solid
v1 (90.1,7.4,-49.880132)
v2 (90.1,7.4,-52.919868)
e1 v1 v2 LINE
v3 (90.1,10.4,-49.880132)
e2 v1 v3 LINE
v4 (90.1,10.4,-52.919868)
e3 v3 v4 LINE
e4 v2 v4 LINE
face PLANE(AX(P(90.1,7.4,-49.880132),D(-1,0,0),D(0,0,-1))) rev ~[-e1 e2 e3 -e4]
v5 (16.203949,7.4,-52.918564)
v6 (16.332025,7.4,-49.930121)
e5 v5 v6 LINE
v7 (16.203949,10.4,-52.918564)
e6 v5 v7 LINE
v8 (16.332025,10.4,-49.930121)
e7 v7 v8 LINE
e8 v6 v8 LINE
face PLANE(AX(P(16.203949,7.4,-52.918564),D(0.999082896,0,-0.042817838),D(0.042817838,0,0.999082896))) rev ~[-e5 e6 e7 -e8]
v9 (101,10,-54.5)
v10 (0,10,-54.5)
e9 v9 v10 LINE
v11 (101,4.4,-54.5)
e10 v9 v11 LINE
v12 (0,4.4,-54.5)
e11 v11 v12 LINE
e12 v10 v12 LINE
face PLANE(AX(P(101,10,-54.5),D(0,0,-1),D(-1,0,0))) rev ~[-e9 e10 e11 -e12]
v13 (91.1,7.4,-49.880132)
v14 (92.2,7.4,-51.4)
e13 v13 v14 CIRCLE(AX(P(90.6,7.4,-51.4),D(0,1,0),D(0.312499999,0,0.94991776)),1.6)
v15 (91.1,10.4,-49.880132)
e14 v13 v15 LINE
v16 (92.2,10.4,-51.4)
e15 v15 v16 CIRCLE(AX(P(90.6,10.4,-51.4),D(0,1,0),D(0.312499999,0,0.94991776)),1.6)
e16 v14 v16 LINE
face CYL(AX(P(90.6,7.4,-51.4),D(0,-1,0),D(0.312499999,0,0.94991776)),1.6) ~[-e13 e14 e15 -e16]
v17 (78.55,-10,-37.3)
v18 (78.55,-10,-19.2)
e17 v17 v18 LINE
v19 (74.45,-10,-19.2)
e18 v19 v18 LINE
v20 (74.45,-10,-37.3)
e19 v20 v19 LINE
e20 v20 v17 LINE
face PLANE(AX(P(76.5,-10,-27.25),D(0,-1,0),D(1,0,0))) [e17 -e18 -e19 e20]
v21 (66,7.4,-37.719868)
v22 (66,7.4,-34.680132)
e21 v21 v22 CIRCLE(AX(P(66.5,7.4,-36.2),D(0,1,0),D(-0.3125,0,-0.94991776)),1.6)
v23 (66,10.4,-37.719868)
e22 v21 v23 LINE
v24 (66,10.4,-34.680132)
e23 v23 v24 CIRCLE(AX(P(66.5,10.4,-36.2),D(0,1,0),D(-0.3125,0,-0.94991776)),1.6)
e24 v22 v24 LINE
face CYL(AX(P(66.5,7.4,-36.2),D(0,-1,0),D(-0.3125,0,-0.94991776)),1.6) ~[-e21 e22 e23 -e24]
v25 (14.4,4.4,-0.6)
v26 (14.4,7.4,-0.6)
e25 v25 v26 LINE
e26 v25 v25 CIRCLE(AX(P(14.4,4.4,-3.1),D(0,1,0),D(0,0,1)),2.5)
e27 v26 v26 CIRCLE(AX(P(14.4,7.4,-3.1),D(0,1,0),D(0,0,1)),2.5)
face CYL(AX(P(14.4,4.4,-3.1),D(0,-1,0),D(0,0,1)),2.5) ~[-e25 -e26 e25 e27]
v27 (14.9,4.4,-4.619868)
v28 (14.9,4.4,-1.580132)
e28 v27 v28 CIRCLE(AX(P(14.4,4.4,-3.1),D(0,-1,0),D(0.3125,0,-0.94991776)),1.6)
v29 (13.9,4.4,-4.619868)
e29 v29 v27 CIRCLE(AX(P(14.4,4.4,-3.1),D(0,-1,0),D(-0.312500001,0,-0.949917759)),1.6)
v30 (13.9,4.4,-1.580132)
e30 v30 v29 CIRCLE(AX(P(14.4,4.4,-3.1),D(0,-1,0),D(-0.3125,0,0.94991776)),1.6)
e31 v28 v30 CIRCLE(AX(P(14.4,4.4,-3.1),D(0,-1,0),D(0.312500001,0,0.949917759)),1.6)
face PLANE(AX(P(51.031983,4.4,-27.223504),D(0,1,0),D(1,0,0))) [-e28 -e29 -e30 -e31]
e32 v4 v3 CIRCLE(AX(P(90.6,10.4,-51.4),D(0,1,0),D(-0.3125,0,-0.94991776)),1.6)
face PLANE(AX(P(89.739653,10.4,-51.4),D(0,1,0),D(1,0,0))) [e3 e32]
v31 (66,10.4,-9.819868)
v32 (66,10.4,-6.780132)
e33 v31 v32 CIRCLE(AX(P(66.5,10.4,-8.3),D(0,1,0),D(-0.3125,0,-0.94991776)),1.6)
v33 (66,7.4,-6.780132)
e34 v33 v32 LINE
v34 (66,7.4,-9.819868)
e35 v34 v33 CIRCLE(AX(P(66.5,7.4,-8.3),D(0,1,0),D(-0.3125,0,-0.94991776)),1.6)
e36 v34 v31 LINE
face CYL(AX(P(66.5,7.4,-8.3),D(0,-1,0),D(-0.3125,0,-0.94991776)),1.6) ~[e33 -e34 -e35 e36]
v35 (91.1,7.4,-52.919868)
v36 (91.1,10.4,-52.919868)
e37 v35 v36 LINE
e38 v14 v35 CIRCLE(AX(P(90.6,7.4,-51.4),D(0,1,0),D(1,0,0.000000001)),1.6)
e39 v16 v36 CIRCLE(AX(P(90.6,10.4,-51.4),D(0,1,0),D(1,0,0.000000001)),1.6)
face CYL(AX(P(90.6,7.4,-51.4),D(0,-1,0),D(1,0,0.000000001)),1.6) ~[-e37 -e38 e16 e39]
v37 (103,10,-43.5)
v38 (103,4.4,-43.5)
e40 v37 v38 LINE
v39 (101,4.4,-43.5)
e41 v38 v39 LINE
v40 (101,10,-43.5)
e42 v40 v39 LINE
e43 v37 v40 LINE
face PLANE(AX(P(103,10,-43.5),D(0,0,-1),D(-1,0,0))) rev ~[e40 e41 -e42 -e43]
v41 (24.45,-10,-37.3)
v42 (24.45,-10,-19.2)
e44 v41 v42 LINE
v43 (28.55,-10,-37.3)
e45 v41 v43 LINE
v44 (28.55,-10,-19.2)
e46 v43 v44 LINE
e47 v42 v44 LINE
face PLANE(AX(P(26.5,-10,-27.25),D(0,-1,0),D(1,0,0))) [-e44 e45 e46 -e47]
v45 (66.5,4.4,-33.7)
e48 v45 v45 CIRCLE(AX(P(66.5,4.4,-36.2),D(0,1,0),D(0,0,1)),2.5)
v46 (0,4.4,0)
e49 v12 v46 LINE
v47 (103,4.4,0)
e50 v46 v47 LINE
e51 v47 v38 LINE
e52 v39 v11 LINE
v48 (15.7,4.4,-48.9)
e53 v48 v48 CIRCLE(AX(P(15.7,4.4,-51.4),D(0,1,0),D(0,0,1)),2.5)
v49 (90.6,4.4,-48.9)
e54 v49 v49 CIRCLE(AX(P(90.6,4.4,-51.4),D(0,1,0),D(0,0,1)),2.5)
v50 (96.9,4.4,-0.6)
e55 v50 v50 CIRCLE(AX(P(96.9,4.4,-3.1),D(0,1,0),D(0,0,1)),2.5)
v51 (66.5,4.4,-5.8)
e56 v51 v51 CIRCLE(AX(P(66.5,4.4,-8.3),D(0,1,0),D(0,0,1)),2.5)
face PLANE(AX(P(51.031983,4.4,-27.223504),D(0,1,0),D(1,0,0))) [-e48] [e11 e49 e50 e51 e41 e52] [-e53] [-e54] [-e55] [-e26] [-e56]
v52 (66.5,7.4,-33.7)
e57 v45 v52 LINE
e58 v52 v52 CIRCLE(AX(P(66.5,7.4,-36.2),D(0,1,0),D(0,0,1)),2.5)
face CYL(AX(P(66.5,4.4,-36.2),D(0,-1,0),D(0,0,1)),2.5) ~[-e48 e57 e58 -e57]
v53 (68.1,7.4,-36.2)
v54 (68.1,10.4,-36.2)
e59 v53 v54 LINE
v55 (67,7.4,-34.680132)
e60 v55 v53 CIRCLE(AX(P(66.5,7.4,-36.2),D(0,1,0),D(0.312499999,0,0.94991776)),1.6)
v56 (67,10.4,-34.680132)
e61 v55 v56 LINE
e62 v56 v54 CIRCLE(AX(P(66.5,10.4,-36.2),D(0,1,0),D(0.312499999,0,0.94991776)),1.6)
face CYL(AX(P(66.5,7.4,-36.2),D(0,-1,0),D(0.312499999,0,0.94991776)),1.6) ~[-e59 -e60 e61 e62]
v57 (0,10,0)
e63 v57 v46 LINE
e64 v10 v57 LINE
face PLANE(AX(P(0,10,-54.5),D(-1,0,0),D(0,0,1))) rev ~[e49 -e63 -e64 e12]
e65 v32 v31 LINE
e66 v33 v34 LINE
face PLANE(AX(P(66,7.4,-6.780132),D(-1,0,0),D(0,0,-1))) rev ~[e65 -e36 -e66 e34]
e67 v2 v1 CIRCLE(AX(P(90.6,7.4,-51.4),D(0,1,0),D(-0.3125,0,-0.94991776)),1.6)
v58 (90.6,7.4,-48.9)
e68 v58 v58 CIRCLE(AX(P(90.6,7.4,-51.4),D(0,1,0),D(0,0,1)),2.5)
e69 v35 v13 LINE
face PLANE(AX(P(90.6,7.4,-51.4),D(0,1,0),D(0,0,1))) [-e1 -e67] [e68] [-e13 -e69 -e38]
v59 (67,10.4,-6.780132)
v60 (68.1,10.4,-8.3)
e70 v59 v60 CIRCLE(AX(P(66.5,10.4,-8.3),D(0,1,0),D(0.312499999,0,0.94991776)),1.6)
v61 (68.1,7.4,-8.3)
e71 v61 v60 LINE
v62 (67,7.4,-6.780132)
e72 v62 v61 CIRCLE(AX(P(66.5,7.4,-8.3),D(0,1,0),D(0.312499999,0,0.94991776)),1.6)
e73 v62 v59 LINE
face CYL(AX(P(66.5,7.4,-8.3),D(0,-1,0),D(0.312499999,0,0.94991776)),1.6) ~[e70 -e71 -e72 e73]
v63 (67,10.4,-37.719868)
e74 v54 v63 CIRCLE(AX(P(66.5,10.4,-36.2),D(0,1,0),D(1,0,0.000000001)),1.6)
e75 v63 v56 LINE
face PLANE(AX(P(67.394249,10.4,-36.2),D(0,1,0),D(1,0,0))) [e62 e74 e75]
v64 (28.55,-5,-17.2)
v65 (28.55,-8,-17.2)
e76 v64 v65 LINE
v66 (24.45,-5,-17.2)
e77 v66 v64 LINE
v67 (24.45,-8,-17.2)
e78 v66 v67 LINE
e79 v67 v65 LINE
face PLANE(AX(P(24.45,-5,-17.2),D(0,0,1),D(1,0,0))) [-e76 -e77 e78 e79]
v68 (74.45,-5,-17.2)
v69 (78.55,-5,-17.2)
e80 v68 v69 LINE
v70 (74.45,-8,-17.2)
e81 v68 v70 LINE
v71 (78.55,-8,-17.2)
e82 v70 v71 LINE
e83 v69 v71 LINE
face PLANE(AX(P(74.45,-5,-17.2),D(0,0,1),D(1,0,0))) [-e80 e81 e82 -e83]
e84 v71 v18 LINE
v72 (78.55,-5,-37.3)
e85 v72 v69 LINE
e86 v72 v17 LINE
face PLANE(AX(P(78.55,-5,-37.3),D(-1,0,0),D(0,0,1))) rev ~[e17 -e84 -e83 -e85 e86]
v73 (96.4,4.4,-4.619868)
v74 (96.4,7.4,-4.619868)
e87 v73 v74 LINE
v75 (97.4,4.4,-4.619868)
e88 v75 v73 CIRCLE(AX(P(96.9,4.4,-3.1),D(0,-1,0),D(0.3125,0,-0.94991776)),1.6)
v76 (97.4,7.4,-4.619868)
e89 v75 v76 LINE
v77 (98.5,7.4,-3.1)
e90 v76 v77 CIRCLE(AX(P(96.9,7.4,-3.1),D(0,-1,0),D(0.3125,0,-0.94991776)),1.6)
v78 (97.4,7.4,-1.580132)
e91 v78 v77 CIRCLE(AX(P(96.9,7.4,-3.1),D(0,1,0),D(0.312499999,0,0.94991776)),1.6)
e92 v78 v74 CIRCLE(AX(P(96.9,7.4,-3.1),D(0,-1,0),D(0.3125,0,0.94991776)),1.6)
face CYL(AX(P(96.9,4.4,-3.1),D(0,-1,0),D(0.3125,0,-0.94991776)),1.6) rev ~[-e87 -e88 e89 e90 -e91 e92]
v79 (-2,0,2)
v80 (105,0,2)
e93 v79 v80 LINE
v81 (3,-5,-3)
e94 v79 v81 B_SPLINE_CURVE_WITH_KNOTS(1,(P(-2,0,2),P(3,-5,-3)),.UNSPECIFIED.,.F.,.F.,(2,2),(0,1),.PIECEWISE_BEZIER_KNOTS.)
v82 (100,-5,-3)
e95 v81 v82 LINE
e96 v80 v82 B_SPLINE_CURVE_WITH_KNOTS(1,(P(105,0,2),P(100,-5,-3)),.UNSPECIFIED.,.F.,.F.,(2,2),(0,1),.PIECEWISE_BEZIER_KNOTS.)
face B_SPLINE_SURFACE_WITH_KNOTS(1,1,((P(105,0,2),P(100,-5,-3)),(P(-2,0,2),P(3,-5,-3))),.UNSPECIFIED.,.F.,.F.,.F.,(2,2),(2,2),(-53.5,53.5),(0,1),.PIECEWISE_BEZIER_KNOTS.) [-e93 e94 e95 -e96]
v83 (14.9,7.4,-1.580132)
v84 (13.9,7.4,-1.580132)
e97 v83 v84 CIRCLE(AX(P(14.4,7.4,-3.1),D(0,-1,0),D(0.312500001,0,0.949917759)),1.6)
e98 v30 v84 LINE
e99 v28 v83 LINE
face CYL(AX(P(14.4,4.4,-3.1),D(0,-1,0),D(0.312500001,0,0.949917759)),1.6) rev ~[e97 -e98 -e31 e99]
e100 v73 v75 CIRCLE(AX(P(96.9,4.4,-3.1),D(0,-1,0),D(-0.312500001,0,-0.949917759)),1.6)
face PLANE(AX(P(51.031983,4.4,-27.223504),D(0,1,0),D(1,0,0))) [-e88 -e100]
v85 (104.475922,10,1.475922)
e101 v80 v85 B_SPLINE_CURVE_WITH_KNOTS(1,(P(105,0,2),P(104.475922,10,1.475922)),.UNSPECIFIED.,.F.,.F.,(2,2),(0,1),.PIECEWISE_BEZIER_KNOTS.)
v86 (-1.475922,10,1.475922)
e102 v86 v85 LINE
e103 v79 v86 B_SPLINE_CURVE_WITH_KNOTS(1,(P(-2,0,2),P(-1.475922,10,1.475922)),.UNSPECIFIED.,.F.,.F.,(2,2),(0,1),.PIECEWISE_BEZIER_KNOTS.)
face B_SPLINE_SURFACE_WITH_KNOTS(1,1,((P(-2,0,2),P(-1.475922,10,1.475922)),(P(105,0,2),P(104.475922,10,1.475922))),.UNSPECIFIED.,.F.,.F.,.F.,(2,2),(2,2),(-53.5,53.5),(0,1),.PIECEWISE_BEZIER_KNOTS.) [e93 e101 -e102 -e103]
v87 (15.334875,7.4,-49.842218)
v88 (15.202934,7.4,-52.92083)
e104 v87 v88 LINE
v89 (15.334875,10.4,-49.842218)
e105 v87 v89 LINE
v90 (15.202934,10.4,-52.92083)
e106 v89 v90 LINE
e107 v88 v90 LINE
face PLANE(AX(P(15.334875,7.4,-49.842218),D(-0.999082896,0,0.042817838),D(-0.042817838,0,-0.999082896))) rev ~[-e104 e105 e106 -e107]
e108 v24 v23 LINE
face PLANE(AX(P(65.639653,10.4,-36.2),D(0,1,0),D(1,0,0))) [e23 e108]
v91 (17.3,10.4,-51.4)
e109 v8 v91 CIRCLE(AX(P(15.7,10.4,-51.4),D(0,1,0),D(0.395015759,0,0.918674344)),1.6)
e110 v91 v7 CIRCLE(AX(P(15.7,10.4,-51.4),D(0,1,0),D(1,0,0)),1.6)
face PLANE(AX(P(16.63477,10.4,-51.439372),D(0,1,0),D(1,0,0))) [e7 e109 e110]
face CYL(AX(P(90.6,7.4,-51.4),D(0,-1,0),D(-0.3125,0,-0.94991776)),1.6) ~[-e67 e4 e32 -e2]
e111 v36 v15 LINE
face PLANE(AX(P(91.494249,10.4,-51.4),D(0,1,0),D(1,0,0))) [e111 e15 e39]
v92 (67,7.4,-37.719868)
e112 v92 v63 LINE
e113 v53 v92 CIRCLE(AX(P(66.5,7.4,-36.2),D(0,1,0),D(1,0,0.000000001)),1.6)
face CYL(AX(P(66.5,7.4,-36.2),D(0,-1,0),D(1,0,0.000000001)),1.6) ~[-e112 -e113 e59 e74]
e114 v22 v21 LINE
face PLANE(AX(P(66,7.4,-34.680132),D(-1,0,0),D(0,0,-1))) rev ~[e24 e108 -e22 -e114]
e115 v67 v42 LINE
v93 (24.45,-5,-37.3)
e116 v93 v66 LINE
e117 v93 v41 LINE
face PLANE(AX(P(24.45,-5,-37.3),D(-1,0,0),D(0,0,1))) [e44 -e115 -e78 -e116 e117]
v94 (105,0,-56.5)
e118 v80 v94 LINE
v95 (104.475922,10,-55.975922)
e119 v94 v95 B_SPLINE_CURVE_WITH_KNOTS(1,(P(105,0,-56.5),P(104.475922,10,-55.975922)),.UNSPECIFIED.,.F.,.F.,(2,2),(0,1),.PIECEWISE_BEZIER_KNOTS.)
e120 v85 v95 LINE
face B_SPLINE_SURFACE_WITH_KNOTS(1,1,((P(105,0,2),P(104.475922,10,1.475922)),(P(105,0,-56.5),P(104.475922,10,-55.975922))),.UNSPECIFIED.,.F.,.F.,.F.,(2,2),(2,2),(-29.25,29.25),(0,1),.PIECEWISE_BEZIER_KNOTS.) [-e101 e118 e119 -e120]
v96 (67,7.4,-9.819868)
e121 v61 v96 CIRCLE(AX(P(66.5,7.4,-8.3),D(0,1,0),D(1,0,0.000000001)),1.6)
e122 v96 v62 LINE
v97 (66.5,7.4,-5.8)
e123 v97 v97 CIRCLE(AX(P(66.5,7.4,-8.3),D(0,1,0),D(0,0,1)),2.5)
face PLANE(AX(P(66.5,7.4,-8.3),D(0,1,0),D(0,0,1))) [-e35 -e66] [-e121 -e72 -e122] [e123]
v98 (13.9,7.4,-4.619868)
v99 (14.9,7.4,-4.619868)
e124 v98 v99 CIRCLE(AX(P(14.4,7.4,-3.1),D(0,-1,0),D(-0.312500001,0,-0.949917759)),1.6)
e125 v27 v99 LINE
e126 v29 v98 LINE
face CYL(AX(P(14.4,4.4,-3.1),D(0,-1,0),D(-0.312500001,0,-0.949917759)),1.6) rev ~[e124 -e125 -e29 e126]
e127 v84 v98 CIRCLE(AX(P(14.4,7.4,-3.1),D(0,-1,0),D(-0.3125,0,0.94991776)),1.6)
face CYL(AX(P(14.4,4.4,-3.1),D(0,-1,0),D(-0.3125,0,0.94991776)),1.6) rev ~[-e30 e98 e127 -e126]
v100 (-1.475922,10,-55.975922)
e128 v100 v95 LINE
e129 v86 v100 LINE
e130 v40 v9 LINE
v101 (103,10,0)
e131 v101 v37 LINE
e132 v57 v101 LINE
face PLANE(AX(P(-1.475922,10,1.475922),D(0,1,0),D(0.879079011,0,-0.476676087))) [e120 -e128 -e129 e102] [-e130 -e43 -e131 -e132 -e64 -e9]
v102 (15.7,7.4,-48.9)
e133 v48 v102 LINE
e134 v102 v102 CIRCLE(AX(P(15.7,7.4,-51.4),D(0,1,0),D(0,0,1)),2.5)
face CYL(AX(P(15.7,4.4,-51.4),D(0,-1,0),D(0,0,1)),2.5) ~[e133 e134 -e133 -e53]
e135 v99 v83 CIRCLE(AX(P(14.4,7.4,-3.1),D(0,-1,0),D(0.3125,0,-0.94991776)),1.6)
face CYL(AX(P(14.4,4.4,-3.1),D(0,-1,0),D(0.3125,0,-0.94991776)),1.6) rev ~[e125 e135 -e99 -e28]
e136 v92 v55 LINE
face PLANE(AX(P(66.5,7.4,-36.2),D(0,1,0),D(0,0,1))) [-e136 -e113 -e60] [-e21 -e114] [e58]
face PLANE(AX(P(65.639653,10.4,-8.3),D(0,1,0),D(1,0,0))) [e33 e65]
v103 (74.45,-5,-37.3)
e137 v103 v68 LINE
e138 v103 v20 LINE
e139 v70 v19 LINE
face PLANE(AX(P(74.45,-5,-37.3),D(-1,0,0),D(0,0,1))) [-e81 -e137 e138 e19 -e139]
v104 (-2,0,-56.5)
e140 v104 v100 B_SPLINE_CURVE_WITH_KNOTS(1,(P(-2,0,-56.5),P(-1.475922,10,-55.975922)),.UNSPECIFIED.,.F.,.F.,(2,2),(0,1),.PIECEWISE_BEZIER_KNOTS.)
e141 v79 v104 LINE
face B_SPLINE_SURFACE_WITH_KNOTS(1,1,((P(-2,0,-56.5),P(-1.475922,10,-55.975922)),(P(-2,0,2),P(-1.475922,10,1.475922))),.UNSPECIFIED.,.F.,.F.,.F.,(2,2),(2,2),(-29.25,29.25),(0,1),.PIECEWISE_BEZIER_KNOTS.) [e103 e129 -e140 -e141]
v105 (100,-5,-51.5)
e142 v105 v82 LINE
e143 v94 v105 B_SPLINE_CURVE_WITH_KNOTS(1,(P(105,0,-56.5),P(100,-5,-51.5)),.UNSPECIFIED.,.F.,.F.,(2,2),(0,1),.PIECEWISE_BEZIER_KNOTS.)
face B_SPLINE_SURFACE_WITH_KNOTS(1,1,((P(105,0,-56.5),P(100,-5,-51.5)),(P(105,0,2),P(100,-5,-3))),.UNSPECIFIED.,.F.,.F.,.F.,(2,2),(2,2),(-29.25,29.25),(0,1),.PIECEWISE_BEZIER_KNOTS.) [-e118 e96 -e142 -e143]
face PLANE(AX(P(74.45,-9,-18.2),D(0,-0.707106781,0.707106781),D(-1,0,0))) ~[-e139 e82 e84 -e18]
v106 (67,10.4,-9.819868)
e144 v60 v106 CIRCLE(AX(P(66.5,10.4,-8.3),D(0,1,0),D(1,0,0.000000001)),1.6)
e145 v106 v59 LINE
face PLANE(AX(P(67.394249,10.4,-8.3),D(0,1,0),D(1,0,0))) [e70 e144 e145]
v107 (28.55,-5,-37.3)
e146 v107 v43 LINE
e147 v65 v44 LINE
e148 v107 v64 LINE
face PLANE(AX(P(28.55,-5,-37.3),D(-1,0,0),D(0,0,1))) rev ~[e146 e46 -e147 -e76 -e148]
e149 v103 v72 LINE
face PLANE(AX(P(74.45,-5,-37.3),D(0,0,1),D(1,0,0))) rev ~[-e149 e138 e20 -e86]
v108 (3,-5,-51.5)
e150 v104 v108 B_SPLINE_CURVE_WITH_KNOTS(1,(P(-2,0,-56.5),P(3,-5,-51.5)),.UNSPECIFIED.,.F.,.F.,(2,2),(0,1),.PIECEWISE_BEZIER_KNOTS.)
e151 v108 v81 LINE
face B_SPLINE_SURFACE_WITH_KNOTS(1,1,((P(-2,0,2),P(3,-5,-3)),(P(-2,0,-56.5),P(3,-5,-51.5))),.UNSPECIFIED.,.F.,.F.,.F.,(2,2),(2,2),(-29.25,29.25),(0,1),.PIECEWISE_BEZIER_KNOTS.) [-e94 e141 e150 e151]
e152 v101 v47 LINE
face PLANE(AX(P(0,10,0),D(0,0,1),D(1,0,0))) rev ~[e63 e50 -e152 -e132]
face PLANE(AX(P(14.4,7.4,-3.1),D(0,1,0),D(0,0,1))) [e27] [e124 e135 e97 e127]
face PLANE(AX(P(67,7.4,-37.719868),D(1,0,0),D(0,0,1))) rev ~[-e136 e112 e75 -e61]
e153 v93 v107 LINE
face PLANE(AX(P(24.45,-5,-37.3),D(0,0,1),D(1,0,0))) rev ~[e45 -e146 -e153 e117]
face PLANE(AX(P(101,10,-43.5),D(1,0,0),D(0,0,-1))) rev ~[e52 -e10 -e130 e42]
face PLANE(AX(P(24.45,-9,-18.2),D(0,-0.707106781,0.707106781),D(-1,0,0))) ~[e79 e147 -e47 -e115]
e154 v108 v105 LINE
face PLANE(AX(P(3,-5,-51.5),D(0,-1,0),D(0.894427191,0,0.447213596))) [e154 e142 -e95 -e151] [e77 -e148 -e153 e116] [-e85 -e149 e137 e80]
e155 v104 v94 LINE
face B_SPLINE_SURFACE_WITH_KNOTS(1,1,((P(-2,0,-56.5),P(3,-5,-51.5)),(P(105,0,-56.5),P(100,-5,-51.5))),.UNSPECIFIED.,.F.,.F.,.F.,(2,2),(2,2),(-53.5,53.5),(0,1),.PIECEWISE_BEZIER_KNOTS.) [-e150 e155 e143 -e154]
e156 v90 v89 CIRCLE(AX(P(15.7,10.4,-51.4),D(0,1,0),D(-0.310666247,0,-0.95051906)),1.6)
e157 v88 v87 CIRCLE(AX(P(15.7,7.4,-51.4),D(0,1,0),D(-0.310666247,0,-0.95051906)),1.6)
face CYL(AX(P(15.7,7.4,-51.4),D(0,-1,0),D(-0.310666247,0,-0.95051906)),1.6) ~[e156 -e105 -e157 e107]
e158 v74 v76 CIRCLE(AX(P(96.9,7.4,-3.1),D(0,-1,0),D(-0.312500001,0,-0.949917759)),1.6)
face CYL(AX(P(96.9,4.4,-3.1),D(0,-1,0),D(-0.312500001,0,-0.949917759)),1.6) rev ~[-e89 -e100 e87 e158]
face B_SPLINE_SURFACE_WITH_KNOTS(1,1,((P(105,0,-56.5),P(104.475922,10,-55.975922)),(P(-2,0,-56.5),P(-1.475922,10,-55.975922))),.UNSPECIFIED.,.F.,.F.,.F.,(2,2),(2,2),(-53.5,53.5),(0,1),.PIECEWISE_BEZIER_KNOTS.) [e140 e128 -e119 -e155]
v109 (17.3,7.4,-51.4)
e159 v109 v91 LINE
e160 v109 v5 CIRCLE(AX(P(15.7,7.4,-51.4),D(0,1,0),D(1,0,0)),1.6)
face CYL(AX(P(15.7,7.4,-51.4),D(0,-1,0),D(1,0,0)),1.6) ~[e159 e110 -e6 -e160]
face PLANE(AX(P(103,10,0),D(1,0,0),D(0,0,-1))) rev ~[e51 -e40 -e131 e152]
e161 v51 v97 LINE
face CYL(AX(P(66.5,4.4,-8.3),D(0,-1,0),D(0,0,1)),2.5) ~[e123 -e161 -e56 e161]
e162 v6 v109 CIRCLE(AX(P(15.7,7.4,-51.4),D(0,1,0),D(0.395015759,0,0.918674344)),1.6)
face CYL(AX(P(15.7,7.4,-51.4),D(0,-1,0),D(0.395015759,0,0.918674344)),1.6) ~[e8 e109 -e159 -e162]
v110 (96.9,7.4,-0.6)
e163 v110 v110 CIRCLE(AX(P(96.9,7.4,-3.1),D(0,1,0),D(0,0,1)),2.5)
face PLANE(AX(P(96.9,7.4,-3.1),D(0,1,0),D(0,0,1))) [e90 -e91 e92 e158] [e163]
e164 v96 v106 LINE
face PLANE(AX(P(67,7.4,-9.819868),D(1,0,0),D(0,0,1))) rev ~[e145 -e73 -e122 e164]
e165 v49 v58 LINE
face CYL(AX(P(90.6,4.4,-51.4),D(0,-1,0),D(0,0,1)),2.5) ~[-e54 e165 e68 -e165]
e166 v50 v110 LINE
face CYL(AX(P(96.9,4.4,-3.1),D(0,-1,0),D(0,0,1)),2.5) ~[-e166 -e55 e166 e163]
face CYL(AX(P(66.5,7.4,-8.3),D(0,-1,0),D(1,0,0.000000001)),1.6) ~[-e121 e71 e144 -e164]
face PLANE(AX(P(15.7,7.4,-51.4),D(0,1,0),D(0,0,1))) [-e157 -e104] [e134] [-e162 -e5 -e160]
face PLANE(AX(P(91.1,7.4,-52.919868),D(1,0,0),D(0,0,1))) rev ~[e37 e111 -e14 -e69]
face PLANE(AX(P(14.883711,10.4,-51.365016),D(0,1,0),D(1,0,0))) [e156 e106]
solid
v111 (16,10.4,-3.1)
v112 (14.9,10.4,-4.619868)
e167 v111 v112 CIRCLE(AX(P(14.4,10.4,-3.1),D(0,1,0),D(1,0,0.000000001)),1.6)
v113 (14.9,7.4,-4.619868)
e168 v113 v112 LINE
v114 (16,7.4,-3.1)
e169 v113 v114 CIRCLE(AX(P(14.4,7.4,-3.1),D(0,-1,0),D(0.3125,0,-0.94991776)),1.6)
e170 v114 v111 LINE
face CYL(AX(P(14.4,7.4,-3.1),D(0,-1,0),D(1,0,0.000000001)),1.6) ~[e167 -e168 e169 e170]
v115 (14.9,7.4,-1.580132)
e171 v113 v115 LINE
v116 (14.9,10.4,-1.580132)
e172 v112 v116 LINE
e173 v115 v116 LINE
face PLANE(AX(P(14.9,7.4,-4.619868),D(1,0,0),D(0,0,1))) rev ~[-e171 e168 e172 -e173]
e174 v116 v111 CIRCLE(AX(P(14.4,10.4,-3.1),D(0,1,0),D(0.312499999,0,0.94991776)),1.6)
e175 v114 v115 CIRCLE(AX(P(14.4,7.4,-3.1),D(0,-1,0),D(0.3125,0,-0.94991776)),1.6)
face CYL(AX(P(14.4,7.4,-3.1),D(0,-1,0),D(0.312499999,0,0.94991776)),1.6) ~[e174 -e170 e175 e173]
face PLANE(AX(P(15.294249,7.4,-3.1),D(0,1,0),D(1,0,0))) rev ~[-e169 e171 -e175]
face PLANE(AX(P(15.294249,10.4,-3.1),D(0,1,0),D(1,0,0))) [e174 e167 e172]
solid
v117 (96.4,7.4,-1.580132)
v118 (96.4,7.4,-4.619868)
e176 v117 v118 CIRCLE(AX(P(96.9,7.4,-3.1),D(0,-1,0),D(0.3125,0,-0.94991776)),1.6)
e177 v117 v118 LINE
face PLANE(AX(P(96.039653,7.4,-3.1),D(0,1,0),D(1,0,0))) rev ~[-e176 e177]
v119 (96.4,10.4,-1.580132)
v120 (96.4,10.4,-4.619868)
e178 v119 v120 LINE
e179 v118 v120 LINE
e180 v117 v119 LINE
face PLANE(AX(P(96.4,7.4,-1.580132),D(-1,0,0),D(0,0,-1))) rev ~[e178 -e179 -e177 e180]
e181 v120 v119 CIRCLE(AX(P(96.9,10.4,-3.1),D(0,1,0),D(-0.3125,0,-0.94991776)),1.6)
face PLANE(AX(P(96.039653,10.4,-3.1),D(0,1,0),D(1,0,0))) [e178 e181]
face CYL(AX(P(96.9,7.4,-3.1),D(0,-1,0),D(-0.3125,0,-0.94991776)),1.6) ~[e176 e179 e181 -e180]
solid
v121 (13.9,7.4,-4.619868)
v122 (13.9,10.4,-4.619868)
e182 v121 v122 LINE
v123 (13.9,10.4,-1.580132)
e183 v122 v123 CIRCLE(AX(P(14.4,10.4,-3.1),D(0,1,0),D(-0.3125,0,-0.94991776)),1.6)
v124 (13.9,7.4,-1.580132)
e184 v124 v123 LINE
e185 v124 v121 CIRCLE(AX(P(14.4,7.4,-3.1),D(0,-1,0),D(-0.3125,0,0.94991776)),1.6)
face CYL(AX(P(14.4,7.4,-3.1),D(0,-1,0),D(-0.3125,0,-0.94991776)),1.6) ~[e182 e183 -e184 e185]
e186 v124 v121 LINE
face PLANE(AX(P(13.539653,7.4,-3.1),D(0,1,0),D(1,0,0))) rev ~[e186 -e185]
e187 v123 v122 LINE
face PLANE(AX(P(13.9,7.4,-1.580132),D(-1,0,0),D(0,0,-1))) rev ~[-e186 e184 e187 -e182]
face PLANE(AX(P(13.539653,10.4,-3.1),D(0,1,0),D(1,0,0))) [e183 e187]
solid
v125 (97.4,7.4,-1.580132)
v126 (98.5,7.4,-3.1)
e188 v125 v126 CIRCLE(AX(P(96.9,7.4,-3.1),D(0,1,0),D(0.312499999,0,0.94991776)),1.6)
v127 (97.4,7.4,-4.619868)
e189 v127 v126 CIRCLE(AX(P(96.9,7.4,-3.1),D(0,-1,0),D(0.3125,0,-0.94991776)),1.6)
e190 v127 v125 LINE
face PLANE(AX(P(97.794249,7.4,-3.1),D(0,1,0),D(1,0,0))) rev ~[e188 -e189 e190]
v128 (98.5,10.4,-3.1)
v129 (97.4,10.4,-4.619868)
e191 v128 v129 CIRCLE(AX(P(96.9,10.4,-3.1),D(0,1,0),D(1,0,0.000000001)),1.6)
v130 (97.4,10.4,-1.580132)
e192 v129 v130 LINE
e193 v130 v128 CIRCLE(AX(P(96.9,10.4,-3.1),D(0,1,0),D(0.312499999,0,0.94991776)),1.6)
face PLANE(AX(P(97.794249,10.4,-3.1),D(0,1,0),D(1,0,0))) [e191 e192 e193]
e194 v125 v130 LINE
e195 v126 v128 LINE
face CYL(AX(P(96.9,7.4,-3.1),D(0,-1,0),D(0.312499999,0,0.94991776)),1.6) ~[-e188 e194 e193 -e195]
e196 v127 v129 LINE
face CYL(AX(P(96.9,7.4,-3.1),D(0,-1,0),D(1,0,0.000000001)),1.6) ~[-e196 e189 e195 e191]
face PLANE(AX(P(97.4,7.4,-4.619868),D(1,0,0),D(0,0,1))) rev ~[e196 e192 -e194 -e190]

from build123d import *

# Parameters (mm, degrees)
SKETCH2_W           = 107
SKETCH2_H           = 58.5
BOSS_EXTRUDE1_DEPTH = 10
BOSS_EXTRUDE1_TAPER = 3
CUT_EXTRUDE1_START  = 10
SKETCH2_5_W         = 2
SKETCH2_5_H         = 1
CUT_EXTRUDE1_DEPTH  = 5.6
SKETCH8_W           = 107
SKETCH8_H           = 58.5
BOSS_EXTRUDE2_DEPTH = 5
BOSS_EXTRUDE2_TAPER = 45
SKETCH9_W           = 4.1
SKETCH9_H           = 20.1
BOSS_EXTRUDE3_DEPTH = 5
CHAMFER1_SIZE       = 2
SKETCH10_R          = 2.5
BOSS_EXTRUDE4_DEPTH = 3
BOSS_EXTRUDE5_START = 3
BOSS_EXTRUDE5_DEPTH = 3


with BuildPart() as part:
    # Sketch2 → Boss-Extrude1 (new body)
    with BuildSketch(Plane(origin=(0, 0, 0), x_dir=(1, 0, 0), z_dir=(0, 1, 0))):
        with Locations((51.5, 27.25)):
            Rectangle(SKETCH2_W, SKETCH2_H)
    extrude(amount=BOSS_EXTRUDE1_DEPTH, taper=BOSS_EXTRUDE1_TAPER)

    # Sketch2<5> → Cut-Extrude1 (cut)
    with BuildSketch(Plane(origin=(0, 0, 0), x_dir=(1, 0, 0), z_dir=(0, 1, 0)).offset(CUT_EXTRUDE1_START)):
        Polygon((0, 0), (101, 0), (101, 1), (103, 3), (103, 41.5), (101, 43.5), (101, 54.5), (0, 54.5), align=None)
        Polygon((103, 43.5), (101, 43.5), (103, 41.5), align=None)
        Polygon((103, 3), (101, 1), (103, 1), align=None)
        with Locations((102, 0.5)):
            Rectangle(SKETCH2_5_W, SKETCH2_5_H)
    extrude(amount=-CUT_EXTRUDE1_DEPTH, mode=Mode.SUBTRACT)

    # Sketch8 → Boss-Extrude2 (add)
    with BuildSketch(Plane.XZ):
        with Locations((51.5, -27.25)):
            Rectangle(SKETCH8_W, SKETCH8_H)
    extrude(amount=BOSS_EXTRUDE2_DEPTH, taper=BOSS_EXTRUDE2_TAPER)

    # Sketch9 → Boss-Extrude3 (add)
    with BuildSketch(Plane.XZ.offset(5)):
        with Locations((26.5, -27.25)):
            Rectangle(SKETCH9_W, SKETCH9_H)
        with Locations((76.5, -27.25)):
            Rectangle(SKETCH9_W, SKETCH9_H)
    extrude(amount=BOSS_EXTRUDE3_DEPTH)

    # Chamfer1
    chamfer1_edges = [part.edges().sort_by_distance(p)[0] for p in [
        (26.5, -10, -17.2),
        (76.5, -10, -17.2),
    ]]
    chamfer(chamfer1_edges, length=CHAMFER1_SIZE)

    # Sketch10 → Boss-Extrude4 (add)
    # profile 1 of 6: a face of its own
    with BuildSketch(Plane(origin=(0, 4.4, 0), x_dir=(1, 0, 0), z_dir=(0, 1, 0))):
        with Locations(Location((15.7, 51.4, 0), (0, 0, 270))):
            Circle(SKETCH10_R)
    # profile 2 of 6: a face of its own
    with BuildSketch(Plane(origin=(0, 4.4, 0), x_dir=(1, 0, 0), z_dir=(0, 1, 0))):
        with Locations(Location((90.6, 51.4, 0), (0, 0, 270))):
            Circle(SKETCH10_R)
    # profile 3 of 6: a face of its own
    with BuildSketch(Plane(origin=(0, 4.4, 0), x_dir=(1, 0, 0), z_dir=(0, 1, 0))):
        with Locations(Location((66.5, 8.3, 0), (0, 0, 270))):
            Circle(SKETCH10_R)
    # profile 4 of 6: a face of its own
    with BuildSketch(Plane(origin=(0, 4.4, 0), x_dir=(1, 0, 0), z_dir=(0, 1, 0))):
        with Locations(Location((66.5, 36.2, 0), (0, 0, 270))):
            Circle(SKETCH10_R)
    # profile 5 of 6: a face of its own
    with BuildSketch(Plane(origin=(0, 4.4, 0), x_dir=(1, 0, 0), z_dir=(0, 1, 0))):
        with Locations(Location((96.9, 3.1, 0), (0, 0, 270))):
            Circle(SKETCH10_R)
        with BuildLine():
            ThreePointArc((96.4, 4.619868415), (96.9, 4.7), (97.4, 4.619868415))
            ThreePointArc((97.4, 4.619868415), (96.9, 1.5), (96.4, 4.619868415))
        make_face(mode=Mode.SUBTRACT)
    # profile 6 of 6: a face of its own
    with BuildSketch(Plane(origin=(0, 4.4, 0), x_dir=(1, 0, 0), z_dir=(0, 1, 0))):
        with Locations(Location((14.4, 3.1, 0), (0, 0, 270))):
            Circle(SKETCH10_R)
        with BuildLine():
            ThreePointArc((13.9, 1.580131585), (12.8, 3.1), (13.9, 4.619868415))
            ThreePointArc((13.9, 4.619868415), (14.4, 4.7), (14.9, 4.619868415))
            ThreePointArc((14.9, 4.619868415), (16, 3.1), (14.9, 1.580131585))
            ThreePointArc((14.9, 1.580131585), (14.4, 1.5), (13.9, 1.580131585))
        make_face(mode=Mode.SUBTRACT)
    extrude(amount=BOSS_EXTRUDE4_DEPTH)

    # Sketch10<3> → Boss-Extrude5 (add)
    with BuildSketch(Plane(origin=(0, 4.4, 0), x_dir=(1, 0, 0), z_dir=(0, 1, 0)).offset(BOSS_EXTRUDE5_START)):
        with BuildLine():
            ThreePointArc((17.3, 51.4), (16.997366288, 52.336397733), (16.203949106, 52.918563564))
            Line((16.203949106, 52.918563564), (16.332025214, 49.930121049))
            ThreePointArc((16.332025214, 49.930121049), (17.036270995, 50.520011461), (17.3, 51.4))
        make_face()
        with BuildLine():
            Line((15.334874522, 49.842218441), (15.202934006, 52.920830496))
            ThreePointArc((15.202934006, 52.920830496), (14.101467367, 51.331491459), (15.334874522, 49.842218441))
        make_face()
        with BuildLine():
            ThreePointArc((92.2, 51.4), (91.89614814, 52.338083152), (91.1, 52.919868415))
            Line((91.1, 52.919868415), (91.1, 49.880131585))
            ThreePointArc((91.1, 49.880131585), (91.89614814, 50.461916848), (92.2, 51.4))
        make_face()
        with BuildLine():
            Line((90.1, 49.880131585), (90.1, 52.919868415))
            ThreePointArc((90.1, 52.919868415), (89, 51.4), (90.1, 49.880131585))
        make_face()
        with BuildLine():
            ThreePointArc((16, 3.1), (15.69614814, 4.038083152), (14.9, 4.619868415))
            Line((14.9, 4.619868415), (14.9, 1.580131585))
            ThreePointArc((14.9, 1.580131585), (15.69614814, 2.161916848), (16, 3.1))
        make_face()
        with BuildLine():
            Line((13.9, 1.580131585), (13.9, 4.619868415))
            ThreePointArc((13.9, 4.619868415), (12.8, 3.1), (13.9, 1.580131585))
        make_face()
        with BuildLine():
            ThreePointArc((68.1, 36.2), (67.79614814, 37.138083152), (67, 37.719868415))
            Line((67, 37.719868415), (67, 34.680131585))
            ThreePointArc((67, 34.680131585), (67.79614814, 35.261916848), (68.1, 36.2))
        make_face()
        with BuildLine():
            Line((66, 34.680131585), (66, 37.719868415))
            ThreePointArc((66, 37.719868415), (64.9, 36.2), (66, 34.680131585))
        make_face()
        with BuildLine():
            ThreePointArc((68.1, 8.3), (67.79614814, 9.238083152), (67, 9.819868415))
            Line((67, 9.819868415), (67, 6.780131585))
            ThreePointArc((67, 6.780131585), (67.79614814, 7.361916848), (68.1, 8.3))
        make_face()
        with BuildLine():
            Line((66, 6.780131585), (66, 9.819868415))
            ThreePointArc((66, 9.819868415), (64.9, 8.3), (66, 6.780131585))
        make_face()
        with BuildLine():
            ThreePointArc((98.5, 3.1), (98.19614814, 4.038083152), (97.4, 4.619868415))
            Line((97.4, 4.619868415), (97.4, 1.580131585))
            ThreePointArc((97.4, 1.580131585), (98.19614814, 2.161916848), (98.5, 3.1))
        make_face()
        with BuildLine():
            Line((96.4, 1.580131585), (96.4, 4.619868415))
            ThreePointArc((96.4, 4.619868415), (95.3, 3.1), (96.4, 1.580131585))
        make_face()
    extrude(amount=BOSS_EXTRUDE5_DEPTH)


with BuildPart() as boss_extrude5_piece_1:
    # of the separate pieces the step leaves, piece 1, a body of its own (boss_extrude5_pieces)
    add(part.part.solids().sort_by_distance((78.55, -8, -17.2))[0])


with BuildPart() as boss_extrude5_piece_2:
    # of the separate pieces the step leaves, piece 2, a body of its own (boss_extrude5_pieces)
    add(part.part.solids().sort_by_distance((96.4, 10.4, -4.619868415))[0])


with BuildPart() as boss_extrude5_piece_3:
    # of the separate pieces the step leaves, piece 3, a body of its own (boss_extrude5_pieces)
    add(part.part.solids().sort_by_distance((13.9, 10.4, -4.619868415))[0])


with BuildPart() as boss_extrude5_piece_4:
    # of the separate pieces the step leaves, piece 4, a body of its own (boss_extrude5_pieces)
    add(part.part.solids().sort_by_distance((97.4, 10.4, -1.580131585))[0])


with BuildPart() as boss_extrude5_piece_5:
    # of the separate pieces the step leaves, piece 5, a body of its own (boss_extrude5_pieces)
    add(part.part.solids().sort_by_distance((14.9, 10.4, -1.580131585))[0])


solid = Compound([boss_extrude5_piece_1.part, boss_extrude5_piece_2.part, boss_extrude5_piece_3.part, boss_extrude5_piece_4.part, boss_extrude5_piece_5.part])
